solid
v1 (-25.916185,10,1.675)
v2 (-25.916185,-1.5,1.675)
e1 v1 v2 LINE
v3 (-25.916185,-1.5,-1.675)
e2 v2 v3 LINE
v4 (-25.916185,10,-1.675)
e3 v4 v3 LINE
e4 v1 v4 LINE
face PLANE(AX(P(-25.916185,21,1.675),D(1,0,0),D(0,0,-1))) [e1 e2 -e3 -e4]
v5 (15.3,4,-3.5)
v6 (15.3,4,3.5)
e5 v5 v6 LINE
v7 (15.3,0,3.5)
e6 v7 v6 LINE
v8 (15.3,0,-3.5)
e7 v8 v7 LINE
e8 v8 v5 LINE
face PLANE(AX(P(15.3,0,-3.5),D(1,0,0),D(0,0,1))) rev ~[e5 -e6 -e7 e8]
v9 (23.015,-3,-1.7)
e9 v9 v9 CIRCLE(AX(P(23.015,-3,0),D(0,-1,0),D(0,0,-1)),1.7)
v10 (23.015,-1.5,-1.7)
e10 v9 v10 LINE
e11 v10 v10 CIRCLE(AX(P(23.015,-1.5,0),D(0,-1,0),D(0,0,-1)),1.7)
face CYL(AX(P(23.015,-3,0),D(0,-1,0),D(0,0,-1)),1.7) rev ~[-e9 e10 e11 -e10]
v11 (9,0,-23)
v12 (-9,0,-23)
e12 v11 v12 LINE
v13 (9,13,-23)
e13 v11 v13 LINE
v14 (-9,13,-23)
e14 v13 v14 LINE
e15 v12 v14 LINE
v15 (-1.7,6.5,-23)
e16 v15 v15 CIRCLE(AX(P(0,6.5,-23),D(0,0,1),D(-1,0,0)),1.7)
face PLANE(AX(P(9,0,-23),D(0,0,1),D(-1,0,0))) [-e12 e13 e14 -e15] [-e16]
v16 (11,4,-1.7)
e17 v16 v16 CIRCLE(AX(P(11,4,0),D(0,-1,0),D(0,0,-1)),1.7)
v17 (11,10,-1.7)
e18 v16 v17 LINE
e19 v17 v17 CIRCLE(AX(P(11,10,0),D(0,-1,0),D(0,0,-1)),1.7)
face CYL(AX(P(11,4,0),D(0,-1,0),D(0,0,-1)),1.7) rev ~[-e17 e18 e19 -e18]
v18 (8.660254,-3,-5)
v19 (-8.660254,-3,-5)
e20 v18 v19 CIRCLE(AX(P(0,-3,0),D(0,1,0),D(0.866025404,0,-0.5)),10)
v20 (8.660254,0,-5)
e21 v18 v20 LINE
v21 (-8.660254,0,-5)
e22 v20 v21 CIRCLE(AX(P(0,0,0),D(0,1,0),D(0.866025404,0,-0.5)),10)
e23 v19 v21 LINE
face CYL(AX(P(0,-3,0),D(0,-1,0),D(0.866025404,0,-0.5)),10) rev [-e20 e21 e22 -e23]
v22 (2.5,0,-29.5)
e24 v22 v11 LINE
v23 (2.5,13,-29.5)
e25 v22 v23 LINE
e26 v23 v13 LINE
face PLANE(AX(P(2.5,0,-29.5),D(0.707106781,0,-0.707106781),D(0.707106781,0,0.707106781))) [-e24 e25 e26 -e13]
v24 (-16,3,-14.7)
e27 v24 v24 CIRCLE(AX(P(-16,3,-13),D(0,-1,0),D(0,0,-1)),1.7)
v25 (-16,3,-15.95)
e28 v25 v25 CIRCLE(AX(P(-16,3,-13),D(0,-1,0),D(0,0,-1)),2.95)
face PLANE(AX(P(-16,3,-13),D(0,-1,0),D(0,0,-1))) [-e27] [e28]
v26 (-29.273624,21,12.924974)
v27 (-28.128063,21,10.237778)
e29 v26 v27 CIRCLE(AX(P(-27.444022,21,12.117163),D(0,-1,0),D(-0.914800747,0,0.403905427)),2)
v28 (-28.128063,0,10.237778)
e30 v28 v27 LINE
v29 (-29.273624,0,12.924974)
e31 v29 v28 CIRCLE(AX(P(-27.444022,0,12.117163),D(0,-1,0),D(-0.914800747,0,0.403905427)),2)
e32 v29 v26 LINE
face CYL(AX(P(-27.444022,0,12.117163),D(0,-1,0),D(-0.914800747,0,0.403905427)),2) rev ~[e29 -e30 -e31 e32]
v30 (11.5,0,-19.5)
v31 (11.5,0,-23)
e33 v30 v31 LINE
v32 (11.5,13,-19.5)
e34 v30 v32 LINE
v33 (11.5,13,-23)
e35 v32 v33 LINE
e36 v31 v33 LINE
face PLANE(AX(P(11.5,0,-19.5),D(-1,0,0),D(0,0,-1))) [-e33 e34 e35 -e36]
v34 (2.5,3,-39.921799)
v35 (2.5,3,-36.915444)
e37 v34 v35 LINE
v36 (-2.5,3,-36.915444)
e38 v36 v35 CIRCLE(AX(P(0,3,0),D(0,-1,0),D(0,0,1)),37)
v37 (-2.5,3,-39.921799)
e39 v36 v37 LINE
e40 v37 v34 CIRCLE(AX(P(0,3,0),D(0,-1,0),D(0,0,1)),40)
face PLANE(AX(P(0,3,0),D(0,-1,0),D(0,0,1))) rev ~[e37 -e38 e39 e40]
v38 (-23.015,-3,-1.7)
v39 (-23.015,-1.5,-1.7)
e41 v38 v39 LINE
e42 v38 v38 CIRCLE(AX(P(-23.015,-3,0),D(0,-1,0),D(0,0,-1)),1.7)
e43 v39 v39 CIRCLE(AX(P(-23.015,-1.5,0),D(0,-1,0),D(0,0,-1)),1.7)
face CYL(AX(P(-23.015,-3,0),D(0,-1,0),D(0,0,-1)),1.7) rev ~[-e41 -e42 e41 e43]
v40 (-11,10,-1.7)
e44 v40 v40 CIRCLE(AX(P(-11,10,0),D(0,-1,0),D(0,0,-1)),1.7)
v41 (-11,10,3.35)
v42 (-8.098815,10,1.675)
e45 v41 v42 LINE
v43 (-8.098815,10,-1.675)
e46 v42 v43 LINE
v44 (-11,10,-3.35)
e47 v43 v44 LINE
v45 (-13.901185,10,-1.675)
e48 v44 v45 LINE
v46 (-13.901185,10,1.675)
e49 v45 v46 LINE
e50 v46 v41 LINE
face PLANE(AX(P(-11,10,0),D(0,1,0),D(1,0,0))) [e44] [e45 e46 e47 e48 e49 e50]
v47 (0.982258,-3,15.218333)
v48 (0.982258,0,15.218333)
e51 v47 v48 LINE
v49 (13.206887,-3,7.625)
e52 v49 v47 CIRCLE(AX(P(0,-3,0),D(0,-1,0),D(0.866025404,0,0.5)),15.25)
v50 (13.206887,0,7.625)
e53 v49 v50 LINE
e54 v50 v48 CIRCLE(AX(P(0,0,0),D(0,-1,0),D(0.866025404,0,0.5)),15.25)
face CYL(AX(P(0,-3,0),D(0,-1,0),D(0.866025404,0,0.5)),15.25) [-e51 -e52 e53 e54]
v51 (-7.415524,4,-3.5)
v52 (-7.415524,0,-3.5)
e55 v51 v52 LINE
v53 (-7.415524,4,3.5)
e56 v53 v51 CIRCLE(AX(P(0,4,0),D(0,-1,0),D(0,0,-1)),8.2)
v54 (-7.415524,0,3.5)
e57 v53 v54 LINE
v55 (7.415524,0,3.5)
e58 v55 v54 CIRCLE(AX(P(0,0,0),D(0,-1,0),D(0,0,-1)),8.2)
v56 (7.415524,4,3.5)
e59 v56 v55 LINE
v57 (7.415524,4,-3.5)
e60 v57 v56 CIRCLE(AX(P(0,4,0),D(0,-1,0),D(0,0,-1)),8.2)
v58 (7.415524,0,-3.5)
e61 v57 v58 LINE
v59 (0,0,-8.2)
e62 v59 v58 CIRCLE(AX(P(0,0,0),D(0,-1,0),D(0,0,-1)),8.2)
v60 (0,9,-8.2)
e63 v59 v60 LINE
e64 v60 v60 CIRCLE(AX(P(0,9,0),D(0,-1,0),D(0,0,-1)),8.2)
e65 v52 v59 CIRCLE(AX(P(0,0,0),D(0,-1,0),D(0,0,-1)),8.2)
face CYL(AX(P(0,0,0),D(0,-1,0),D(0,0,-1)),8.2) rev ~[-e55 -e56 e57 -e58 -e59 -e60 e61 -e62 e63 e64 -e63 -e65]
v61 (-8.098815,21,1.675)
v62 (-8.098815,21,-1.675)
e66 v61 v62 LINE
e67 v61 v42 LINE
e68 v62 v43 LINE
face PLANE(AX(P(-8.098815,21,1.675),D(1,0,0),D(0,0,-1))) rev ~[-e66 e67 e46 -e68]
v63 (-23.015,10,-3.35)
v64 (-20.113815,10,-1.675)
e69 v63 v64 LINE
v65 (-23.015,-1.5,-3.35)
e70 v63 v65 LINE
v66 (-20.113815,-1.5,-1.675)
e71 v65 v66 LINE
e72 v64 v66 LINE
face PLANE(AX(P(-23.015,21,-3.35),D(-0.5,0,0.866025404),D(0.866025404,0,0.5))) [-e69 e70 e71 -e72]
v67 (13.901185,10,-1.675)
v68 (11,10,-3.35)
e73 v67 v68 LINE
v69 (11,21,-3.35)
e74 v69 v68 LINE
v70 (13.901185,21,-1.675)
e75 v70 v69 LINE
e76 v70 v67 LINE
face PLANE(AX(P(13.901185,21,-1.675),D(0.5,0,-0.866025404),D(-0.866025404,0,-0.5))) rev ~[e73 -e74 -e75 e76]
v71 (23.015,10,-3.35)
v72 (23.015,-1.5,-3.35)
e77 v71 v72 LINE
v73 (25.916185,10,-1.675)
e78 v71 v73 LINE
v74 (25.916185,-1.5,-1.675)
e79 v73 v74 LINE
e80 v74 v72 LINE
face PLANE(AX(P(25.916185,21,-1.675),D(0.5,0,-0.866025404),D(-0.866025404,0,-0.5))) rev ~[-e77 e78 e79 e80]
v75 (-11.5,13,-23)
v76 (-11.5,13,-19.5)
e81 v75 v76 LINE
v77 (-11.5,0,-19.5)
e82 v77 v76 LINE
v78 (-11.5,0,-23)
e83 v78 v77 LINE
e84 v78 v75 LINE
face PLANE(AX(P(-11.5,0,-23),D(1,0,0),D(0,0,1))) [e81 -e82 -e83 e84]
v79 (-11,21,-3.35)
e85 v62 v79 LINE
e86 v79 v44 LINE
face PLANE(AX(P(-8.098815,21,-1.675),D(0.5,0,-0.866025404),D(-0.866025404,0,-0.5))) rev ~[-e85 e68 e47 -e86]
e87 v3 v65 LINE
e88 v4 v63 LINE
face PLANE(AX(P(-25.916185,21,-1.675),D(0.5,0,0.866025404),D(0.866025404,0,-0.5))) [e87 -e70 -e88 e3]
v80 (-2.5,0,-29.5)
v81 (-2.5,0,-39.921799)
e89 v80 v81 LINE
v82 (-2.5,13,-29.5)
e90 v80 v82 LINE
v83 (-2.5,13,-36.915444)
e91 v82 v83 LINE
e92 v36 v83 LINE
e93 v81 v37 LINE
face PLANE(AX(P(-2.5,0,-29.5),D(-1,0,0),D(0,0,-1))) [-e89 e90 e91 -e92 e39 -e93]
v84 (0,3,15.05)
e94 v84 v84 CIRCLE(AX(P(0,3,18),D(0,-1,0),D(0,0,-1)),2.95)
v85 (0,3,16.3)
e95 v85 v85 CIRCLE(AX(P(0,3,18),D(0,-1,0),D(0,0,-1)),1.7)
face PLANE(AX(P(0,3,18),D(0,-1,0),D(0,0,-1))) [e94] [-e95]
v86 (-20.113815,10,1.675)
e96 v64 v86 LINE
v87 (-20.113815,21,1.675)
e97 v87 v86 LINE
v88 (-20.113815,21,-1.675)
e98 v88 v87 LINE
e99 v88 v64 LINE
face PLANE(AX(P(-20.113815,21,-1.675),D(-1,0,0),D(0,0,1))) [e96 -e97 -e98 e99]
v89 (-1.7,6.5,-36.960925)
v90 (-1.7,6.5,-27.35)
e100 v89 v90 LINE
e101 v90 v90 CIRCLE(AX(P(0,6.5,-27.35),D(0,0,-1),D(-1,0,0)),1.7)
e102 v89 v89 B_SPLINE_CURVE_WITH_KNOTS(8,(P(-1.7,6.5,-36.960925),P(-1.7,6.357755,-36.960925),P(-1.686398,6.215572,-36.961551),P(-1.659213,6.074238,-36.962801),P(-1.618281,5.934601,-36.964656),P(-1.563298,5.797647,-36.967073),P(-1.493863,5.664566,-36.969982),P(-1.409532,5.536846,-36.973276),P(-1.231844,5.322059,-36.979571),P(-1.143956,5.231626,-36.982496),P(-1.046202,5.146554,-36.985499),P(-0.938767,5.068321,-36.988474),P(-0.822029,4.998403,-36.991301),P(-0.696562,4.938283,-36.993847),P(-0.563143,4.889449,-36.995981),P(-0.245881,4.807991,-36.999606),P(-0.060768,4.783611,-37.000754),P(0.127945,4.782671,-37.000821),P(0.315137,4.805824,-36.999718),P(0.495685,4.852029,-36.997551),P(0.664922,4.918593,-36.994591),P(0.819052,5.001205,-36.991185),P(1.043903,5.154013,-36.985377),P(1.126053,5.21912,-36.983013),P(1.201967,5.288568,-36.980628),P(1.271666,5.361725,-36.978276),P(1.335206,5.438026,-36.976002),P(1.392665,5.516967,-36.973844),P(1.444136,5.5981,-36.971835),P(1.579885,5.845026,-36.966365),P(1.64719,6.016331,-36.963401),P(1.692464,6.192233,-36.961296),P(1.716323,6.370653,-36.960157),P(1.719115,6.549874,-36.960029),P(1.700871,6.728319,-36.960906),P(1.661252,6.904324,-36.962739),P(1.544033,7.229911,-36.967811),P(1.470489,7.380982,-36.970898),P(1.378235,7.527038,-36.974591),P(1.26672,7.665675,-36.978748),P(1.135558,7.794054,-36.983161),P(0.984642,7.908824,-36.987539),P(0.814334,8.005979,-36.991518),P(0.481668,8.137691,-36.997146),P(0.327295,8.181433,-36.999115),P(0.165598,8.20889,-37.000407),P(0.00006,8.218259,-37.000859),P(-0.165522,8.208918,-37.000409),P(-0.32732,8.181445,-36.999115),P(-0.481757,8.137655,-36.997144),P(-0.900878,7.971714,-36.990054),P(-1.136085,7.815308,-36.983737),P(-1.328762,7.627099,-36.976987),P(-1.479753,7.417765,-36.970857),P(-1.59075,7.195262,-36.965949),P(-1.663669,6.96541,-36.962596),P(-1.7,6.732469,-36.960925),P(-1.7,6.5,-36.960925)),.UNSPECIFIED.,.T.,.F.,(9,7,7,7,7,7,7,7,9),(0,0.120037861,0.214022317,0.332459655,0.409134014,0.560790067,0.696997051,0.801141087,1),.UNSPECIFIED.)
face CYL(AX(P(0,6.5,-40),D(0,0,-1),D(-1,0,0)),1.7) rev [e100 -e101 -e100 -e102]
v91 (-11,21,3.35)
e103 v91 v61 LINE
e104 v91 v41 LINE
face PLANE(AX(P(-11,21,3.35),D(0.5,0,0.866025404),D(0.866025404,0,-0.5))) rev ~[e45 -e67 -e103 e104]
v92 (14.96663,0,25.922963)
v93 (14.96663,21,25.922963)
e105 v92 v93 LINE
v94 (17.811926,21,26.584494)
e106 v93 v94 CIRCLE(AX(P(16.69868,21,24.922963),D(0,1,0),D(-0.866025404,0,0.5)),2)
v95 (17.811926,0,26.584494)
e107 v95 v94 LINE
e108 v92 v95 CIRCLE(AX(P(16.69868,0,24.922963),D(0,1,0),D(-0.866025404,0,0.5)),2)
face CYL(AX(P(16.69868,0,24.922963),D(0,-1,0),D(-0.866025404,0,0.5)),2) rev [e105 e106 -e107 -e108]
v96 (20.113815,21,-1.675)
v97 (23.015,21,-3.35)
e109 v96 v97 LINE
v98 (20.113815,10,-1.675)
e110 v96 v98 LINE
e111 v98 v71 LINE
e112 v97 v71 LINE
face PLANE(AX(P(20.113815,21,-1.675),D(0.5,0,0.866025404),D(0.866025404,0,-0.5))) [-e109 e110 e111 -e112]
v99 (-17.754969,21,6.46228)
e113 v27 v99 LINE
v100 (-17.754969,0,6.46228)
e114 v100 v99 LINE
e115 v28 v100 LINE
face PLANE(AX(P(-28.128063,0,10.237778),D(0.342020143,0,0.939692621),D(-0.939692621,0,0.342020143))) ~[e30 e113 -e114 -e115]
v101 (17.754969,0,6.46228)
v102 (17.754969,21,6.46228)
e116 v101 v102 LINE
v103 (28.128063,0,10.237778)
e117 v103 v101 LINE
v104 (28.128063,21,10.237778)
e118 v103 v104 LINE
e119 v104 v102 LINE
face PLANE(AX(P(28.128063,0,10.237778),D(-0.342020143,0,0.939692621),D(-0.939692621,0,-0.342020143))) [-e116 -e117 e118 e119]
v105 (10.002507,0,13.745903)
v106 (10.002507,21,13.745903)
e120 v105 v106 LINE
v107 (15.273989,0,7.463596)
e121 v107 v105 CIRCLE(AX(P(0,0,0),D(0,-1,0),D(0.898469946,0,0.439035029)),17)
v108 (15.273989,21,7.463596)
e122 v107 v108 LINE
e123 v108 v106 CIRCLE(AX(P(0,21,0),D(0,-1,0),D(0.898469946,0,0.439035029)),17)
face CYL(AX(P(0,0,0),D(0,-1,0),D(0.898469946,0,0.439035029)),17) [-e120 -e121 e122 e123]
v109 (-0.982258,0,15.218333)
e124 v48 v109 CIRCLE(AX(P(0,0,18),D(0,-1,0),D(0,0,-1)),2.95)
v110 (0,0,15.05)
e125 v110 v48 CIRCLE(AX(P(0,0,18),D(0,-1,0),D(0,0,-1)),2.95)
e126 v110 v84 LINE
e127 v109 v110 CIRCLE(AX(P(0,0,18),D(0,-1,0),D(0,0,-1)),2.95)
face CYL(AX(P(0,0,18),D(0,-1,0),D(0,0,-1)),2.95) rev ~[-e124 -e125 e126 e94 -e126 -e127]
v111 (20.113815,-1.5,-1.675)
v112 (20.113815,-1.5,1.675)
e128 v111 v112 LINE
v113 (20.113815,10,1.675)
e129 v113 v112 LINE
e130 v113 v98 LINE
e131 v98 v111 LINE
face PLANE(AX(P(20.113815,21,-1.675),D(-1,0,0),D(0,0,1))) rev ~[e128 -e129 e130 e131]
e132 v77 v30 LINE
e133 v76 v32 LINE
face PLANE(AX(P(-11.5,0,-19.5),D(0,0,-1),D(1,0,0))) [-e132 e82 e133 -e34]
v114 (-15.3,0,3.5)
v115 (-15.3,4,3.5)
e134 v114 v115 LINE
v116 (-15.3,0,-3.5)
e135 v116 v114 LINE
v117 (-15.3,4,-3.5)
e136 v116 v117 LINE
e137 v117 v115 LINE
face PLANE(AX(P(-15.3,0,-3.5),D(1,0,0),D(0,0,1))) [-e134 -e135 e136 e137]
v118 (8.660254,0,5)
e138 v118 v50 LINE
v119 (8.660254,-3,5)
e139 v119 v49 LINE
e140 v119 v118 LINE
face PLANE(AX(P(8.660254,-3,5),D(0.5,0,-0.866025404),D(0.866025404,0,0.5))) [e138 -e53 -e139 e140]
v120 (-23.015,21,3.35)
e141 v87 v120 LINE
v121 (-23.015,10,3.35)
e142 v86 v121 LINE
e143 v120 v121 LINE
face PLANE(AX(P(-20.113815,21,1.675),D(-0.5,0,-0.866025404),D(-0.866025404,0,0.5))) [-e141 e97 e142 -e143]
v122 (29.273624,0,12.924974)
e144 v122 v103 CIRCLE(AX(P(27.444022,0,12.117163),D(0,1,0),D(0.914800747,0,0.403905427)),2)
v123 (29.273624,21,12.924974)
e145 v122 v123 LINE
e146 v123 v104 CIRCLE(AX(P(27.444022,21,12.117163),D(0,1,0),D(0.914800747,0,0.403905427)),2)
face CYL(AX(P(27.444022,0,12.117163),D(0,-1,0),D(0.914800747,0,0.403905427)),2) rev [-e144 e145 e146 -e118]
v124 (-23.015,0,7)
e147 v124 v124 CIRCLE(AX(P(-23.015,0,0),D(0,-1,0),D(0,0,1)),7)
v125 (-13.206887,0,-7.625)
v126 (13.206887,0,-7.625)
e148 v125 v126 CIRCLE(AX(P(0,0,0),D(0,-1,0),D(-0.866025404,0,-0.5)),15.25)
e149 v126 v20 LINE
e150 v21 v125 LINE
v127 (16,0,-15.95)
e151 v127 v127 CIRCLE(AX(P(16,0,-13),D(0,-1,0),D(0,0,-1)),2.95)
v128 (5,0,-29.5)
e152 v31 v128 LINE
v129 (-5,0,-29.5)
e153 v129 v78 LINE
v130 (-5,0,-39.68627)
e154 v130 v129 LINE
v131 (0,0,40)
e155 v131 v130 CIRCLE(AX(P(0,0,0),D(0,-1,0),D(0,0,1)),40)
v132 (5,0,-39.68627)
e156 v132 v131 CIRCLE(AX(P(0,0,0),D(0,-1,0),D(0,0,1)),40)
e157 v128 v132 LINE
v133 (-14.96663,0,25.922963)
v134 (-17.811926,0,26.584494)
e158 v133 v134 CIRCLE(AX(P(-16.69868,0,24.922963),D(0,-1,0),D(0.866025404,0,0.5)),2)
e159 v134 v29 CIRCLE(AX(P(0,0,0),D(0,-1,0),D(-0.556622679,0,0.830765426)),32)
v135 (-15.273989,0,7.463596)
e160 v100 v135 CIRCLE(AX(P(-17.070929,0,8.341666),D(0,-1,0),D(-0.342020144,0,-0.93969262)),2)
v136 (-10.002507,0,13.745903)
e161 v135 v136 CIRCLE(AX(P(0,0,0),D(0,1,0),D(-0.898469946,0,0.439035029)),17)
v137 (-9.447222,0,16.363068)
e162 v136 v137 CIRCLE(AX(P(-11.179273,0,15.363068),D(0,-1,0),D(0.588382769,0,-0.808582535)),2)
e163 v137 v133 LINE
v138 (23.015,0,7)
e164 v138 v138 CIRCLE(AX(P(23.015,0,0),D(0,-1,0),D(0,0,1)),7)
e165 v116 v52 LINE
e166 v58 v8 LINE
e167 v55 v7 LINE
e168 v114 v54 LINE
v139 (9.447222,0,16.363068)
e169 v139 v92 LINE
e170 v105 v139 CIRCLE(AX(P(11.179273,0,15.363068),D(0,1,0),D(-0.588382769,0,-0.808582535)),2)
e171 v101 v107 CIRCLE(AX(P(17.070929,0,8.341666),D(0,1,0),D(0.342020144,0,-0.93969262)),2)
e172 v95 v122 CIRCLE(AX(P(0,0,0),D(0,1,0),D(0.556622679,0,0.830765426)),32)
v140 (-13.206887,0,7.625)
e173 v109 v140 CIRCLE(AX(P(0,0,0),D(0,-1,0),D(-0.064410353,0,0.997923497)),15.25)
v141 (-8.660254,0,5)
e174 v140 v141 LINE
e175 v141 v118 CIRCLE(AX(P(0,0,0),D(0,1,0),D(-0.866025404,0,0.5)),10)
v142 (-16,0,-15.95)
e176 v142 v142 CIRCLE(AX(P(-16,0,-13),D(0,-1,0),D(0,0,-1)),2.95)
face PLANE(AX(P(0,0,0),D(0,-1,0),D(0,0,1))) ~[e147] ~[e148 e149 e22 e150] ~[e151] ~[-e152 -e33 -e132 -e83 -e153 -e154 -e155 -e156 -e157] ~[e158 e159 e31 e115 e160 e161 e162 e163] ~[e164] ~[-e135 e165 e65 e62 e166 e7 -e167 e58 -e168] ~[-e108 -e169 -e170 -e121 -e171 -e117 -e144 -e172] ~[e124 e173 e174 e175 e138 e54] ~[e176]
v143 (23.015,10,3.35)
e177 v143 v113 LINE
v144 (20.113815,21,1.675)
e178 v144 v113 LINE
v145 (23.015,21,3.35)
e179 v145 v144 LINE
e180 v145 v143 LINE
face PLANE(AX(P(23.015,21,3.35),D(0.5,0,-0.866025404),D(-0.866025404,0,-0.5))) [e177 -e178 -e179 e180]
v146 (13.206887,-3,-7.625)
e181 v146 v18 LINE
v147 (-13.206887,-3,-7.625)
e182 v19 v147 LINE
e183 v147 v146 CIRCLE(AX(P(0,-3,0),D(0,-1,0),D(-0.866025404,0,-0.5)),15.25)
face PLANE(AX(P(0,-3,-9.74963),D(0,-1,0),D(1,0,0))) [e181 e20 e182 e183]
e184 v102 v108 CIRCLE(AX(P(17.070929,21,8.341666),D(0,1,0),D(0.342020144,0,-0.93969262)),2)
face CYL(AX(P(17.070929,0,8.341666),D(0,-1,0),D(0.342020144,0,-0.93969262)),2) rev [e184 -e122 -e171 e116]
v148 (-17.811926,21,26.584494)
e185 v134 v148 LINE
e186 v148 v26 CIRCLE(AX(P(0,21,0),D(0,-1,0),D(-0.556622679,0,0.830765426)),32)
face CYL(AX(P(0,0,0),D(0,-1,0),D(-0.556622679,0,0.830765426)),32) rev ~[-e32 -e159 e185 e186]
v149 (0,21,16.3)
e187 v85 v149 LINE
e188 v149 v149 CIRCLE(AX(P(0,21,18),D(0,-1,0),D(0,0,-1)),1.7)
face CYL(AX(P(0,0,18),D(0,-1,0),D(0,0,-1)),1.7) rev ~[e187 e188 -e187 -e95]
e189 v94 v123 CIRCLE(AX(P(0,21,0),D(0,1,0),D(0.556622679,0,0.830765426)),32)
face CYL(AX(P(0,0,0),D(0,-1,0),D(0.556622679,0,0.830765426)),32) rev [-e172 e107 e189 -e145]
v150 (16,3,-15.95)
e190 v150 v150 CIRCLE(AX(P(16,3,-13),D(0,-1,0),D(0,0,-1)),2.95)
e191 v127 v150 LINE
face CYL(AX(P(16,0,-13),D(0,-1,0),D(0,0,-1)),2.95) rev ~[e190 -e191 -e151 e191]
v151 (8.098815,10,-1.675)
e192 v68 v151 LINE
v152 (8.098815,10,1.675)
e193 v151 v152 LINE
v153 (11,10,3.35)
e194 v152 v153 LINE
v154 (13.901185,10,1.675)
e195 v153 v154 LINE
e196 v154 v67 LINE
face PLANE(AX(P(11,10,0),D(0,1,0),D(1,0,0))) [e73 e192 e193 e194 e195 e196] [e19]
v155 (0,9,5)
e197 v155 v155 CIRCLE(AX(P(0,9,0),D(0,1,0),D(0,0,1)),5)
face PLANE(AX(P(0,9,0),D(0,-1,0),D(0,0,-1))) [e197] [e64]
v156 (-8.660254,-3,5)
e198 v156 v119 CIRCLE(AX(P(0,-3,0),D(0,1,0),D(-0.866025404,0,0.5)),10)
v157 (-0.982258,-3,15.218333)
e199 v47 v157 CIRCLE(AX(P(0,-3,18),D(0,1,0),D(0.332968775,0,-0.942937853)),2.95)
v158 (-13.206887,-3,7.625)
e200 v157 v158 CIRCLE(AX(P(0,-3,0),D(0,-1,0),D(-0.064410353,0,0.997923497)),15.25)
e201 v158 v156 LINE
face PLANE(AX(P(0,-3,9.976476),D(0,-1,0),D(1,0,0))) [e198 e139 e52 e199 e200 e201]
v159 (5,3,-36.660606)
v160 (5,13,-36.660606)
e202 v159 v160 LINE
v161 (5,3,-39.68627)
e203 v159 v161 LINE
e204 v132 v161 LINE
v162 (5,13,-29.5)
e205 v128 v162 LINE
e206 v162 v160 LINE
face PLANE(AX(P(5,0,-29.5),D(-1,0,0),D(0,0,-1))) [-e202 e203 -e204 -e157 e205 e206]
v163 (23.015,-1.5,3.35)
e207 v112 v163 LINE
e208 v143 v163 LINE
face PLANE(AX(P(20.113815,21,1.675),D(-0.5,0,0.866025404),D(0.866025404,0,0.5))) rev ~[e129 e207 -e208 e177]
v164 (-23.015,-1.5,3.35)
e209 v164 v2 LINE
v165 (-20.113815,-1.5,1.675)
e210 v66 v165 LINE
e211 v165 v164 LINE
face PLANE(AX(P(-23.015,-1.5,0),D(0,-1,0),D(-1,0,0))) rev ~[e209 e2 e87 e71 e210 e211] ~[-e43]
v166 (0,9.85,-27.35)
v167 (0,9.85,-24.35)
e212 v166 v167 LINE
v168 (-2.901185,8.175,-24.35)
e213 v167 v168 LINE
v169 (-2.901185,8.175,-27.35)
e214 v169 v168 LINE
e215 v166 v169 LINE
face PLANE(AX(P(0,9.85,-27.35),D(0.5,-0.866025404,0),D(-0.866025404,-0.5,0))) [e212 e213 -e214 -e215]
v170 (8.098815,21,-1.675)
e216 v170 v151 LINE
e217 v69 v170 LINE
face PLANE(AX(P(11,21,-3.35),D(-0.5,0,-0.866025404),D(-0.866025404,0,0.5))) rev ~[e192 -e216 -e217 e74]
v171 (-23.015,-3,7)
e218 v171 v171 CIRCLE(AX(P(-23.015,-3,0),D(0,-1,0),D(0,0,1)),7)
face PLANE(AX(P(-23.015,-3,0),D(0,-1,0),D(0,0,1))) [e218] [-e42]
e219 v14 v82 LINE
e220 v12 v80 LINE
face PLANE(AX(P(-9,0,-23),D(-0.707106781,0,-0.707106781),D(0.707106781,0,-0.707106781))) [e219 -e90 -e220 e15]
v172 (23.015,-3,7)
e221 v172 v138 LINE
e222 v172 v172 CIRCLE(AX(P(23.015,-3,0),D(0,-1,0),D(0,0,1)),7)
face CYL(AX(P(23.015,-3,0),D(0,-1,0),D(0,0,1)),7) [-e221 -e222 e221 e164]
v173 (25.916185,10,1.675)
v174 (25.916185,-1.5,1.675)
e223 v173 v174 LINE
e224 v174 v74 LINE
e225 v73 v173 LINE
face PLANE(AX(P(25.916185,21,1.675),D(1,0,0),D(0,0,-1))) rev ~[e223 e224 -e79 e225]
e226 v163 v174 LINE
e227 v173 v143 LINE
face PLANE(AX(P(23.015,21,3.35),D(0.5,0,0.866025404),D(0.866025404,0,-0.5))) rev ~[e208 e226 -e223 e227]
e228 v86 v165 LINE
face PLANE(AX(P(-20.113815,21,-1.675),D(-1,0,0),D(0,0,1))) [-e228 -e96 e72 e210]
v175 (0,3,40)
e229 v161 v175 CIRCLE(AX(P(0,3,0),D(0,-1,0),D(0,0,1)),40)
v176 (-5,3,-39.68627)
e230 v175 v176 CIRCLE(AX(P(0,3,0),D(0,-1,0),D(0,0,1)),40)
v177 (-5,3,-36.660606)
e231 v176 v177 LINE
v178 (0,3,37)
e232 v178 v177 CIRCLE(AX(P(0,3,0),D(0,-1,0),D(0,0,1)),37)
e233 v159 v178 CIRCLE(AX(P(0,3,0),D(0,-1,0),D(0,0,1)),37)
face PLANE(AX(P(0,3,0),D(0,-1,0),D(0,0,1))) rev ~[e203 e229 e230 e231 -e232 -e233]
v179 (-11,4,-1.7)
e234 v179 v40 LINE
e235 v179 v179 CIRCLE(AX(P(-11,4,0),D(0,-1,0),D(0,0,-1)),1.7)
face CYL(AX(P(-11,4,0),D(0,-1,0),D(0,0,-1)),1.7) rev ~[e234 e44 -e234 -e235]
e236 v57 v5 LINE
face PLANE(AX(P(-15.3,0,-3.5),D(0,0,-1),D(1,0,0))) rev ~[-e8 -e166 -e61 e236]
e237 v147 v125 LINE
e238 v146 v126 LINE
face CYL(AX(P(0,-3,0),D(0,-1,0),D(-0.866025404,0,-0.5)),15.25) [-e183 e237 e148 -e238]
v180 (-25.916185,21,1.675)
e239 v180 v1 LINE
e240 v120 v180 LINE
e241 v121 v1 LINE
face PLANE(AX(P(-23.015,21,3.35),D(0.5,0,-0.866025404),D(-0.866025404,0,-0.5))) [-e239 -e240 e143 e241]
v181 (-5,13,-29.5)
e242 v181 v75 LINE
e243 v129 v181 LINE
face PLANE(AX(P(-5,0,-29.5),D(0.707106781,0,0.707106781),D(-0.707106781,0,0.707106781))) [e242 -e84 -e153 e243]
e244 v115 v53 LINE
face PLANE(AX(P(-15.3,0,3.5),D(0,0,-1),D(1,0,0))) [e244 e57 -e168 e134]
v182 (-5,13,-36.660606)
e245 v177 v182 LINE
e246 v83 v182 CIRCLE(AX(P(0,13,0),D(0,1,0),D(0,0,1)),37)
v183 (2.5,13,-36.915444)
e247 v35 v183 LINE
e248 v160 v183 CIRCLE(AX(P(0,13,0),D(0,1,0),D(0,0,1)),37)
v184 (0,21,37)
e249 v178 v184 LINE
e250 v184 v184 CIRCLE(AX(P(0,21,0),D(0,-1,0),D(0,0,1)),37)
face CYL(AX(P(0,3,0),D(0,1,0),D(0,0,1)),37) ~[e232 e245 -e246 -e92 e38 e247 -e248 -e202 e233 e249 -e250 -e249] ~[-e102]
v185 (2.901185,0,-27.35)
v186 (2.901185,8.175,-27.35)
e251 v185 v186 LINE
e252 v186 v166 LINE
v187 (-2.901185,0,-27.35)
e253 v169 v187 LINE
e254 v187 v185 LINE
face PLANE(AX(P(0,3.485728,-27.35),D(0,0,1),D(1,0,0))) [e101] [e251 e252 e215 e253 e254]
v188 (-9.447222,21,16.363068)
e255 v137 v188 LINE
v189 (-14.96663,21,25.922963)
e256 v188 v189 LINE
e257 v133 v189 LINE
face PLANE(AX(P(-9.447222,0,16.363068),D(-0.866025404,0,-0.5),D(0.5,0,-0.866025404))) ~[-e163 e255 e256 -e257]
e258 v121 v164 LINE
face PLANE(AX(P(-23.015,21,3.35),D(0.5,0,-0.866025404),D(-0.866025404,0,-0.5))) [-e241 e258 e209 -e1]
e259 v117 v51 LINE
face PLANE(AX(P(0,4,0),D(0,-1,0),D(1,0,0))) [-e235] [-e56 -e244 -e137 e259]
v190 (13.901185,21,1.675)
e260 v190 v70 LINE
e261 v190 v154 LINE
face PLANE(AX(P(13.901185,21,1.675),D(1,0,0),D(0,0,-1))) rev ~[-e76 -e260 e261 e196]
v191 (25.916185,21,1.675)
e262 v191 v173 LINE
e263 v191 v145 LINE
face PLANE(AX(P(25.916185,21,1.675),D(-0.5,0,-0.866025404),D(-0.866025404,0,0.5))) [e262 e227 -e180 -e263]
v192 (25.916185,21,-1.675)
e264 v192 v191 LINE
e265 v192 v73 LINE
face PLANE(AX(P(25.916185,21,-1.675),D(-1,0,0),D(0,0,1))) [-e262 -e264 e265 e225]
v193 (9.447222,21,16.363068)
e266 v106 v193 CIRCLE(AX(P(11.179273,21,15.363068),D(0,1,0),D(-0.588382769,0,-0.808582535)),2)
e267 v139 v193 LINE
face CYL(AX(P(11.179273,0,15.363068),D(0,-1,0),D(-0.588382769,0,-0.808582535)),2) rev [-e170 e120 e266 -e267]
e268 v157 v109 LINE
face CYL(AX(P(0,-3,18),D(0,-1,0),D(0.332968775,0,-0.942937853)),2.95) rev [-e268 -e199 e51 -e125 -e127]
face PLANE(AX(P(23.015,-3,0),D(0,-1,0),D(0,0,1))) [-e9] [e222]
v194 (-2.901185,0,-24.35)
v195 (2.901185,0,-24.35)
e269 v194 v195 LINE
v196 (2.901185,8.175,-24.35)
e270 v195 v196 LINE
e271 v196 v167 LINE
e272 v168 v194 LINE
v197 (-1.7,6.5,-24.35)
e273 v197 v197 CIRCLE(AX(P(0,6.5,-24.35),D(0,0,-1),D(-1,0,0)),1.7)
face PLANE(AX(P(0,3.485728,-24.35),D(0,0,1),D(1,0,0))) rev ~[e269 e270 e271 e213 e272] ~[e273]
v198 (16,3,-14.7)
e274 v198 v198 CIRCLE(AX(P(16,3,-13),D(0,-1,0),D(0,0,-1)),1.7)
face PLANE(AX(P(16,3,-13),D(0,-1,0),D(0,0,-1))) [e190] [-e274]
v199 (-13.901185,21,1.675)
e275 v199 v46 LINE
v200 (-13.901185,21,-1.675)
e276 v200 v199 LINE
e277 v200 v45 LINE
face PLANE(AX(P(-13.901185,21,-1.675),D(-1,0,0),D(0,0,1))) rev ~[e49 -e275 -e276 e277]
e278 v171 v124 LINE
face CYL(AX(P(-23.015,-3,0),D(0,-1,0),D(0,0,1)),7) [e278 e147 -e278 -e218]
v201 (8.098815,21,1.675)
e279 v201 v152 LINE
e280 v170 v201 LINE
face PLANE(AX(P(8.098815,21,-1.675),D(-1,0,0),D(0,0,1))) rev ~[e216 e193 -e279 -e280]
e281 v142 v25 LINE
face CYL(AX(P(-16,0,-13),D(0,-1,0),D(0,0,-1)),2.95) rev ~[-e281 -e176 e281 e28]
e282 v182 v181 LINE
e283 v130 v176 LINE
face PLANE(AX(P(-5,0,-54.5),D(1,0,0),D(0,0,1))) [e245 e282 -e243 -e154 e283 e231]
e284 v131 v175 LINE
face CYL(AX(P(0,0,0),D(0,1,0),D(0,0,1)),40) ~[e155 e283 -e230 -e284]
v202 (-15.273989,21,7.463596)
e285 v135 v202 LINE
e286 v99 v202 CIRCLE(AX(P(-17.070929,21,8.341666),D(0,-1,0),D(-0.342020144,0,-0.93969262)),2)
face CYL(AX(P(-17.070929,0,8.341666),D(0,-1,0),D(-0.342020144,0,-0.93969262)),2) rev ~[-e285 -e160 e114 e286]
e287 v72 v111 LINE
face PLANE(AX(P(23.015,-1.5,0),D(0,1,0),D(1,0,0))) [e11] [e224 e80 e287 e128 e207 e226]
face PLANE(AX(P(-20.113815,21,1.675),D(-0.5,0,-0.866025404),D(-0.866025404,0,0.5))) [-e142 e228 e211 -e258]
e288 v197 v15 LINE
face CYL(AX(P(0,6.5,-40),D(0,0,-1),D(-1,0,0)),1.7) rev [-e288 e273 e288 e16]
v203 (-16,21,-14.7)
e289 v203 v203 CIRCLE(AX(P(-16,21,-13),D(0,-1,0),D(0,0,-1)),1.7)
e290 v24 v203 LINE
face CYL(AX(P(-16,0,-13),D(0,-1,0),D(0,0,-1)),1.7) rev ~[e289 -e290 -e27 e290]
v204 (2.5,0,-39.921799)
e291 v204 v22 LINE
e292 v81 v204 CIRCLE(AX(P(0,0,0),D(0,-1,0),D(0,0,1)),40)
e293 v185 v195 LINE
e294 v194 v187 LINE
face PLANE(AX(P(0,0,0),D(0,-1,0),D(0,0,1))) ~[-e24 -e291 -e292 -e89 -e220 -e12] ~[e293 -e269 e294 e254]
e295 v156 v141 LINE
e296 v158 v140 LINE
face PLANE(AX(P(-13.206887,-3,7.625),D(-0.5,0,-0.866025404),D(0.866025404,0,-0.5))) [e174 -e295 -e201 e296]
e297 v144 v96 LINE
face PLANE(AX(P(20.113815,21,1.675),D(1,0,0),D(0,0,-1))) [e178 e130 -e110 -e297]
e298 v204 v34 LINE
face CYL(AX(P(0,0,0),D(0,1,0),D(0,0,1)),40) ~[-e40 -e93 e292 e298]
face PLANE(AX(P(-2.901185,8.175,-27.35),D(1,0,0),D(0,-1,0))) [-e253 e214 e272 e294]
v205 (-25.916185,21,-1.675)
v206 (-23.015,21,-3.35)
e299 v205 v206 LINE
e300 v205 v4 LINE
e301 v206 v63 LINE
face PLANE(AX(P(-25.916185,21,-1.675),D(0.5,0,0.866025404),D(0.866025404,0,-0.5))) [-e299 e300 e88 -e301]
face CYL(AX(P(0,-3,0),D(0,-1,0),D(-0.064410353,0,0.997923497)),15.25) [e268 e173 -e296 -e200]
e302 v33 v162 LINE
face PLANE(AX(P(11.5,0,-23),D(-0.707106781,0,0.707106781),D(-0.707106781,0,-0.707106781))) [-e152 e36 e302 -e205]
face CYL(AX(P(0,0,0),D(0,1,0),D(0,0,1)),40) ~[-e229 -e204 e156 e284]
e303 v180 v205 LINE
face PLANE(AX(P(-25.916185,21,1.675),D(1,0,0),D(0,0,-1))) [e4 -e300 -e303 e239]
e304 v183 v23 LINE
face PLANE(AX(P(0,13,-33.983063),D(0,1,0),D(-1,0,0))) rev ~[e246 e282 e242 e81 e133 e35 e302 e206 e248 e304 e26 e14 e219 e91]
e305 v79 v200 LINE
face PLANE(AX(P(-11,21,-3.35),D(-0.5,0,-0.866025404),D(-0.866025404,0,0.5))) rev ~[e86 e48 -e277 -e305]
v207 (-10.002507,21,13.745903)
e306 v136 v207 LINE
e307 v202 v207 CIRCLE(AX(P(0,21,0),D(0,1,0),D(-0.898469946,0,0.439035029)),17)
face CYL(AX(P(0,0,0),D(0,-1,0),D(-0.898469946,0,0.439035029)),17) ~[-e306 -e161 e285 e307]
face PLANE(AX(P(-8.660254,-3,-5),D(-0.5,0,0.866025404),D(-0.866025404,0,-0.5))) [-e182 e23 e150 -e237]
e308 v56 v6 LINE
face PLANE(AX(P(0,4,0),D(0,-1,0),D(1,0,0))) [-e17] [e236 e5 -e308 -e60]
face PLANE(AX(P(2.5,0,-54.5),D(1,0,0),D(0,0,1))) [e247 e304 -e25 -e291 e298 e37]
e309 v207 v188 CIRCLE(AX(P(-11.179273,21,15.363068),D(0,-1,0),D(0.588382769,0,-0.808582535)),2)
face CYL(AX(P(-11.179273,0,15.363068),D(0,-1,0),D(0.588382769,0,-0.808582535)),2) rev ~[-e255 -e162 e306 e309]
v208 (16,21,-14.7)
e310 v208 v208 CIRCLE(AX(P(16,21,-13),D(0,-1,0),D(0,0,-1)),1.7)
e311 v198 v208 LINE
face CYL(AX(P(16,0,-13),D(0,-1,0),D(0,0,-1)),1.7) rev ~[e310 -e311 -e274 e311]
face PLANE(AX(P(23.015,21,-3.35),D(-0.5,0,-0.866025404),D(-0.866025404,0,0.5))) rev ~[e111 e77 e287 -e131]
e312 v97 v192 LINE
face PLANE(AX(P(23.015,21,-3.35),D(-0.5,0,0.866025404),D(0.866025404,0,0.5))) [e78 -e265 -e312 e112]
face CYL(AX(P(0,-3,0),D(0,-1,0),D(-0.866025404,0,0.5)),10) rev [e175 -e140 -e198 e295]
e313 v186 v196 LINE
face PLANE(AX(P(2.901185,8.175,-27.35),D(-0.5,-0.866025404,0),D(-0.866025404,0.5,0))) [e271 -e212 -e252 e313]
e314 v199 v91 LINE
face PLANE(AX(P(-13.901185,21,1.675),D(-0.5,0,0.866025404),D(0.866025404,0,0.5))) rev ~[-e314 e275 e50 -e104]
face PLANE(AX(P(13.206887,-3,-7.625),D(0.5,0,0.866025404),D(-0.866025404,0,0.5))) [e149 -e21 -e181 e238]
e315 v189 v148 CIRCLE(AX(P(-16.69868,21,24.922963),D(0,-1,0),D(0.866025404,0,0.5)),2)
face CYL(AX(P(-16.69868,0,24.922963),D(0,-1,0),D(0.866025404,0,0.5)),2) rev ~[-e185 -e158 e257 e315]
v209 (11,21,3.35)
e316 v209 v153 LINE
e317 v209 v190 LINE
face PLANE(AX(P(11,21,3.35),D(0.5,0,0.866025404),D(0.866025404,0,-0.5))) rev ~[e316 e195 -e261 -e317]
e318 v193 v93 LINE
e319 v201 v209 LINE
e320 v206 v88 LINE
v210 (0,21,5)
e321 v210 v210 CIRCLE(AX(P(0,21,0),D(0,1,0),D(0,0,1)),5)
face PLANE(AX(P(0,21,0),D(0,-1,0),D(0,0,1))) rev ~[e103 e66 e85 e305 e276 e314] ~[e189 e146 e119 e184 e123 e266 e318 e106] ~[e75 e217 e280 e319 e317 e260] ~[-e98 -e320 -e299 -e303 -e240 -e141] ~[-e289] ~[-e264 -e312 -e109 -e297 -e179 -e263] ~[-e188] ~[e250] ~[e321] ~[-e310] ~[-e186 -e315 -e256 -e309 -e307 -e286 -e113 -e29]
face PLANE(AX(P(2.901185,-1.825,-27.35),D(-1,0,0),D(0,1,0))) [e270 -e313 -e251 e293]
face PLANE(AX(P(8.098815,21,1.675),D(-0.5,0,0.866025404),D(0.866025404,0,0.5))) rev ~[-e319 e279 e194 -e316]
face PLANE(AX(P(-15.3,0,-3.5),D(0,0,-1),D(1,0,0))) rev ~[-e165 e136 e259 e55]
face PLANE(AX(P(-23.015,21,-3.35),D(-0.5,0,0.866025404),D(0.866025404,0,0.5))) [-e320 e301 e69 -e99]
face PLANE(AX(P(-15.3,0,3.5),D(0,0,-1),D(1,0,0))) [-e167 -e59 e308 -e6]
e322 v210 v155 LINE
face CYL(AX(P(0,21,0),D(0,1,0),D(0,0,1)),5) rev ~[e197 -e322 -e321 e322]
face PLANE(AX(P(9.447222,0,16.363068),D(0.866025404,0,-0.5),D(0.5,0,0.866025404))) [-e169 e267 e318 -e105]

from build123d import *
from build123d.topology import SkipClean

# Parameters (mm, degrees)
CORTAR_EXTRUIR1_DEPTH      = 13
CROQUIS3_R                 = 1.7
CORTAR_EXTRUIR2_DEPTH      = 17
CORTAR_EXTRUIR3_DEPTH      = 1.5
CORTAR_EXTRUIR3_DEPTH_BACK = 1.5
CROQUIS5_R                 = 5
CORTAR_EXTRUIR4_DEPTH      = 21
CROQUIS6_R                 = 8.2
CORTAR_EXTRUIR5_DEPTH      = 9
CROQUIS7_W                 = 30.6
CROQUIS7_H                 = 7
CORTAR_EXTRUIR6_DEPTH      = 4
CROQUIS8_R                 = 1.7
CORTAR_EXTRUIR7_DEPTH      = 17
CORTAR_EXTRUIR8_DEPTH      = 11
CORTAR_EXTRUIR9_DEPTH      = 21
CROQUIS11_R                = 1.7
CORTAR_EXTRUIR10_DEPTH     = 21
CROQUIS12_R                = 2.95
CORTAR_EXTRUIR11_DEPTH     = 3
BOSS_EXTRUDE1_START        = 3
SKETCH1_R                  = 7
BOSS_EXTRUDE1_DEPTH        = 3
SKETCH2_R                  = 1.7
CUT_EXTRUDE1_DEPTH         = 62.449166022
CUT_EXTRUDE2_DEPTH         = 22.5


with BuildPart() as part:
    # Croquis1 → Revolución1 (revolve)
    with BuildSketch(Plane.XY, mode=Mode.PRIVATE) as revoluci_n1_sk:
        Polygon((0, 0), (40, 0), (40, 3), (37, 3), (37, 21), (0, 21), align=None)
    revolve(revoluci_n1_sk.sketch.rotate(Axis((0, 21, 0), (0, -1, 0)), 90), axis=Axis((0, 21, 0), (0, -1, 0)))

    # Croquis2 → Cortar-Extruir1 (cut)
    with BuildSketch(Plane.XZ):
        Polygon((-11.5, -19.5), (11.5, -19.5), (11.5, -23), (5, -29.5), (5, -54.5), (2.5, -54.5), (2.5, -29.5), (9, -23), (-9, -23), (-2.5, -29.5), (-2.5, -54.5), (-5, -54.5), (-5, -29.5), (-11.5, -23), align=None)
    extrude(amount=-CORTAR_EXTRUIR1_DEPTH, mode=Mode.SUBTRACT)

    # Croquis3 → Cortar-Extruir2 (cut)
    with BuildSketch(Plane.XY.offset(-40)):
        with Locations(Location((0, 6.5, 0), (0, 0, 180))):
            Circle(CROQUIS3_R)
    extrude(amount=CORTAR_EXTRUIR2_DEPTH, mode=Mode.SUBTRACT)

    # Croquis4 → Cortar-Extruir3 (cut, two sides: drawn at the far end of the back side and taken through both)
    with BuildSketch(Plane.XY.offset(-25.85).offset(-CORTAR_EXTRUIR3_DEPTH_BACK)):
        Polygon((0, 9.85), (-2.901185103, 8.175), (-2.901185103, 4.825), (-2.901185103, -1.825), (2.901185103, -1.825), (2.901185103, 4.825), (2.901185103, 8.175), align=None)
    extrude(amount=CORTAR_EXTRUIR3_DEPTH + CORTAR_EXTRUIR3_DEPTH_BACK, mode=Mode.SUBTRACT)

    # Croquis5 → Cortar-Extruir4 (cut)
    with BuildSketch(Plane(origin=(0, 21, 0), x_dir=(1, 0, 0), z_dir=(0, 1, 0))):
        with Locations(Location((0, 0, 0), (0, 0, 270))):
            Circle(CROQUIS5_R)
    extrude(amount=-CORTAR_EXTRUIR4_DEPTH, mode=Mode.SUBTRACT)

    # Croquis6 → Cortar-Extruir5 (cut)
    with BuildSketch(Plane.XZ):
        with Locations(Location((0, 0, 0), (0, 0, 270))):
            Circle(CROQUIS6_R)
    extrude(amount=-CORTAR_EXTRUIR5_DEPTH, mode=Mode.SUBTRACT)

    # Croquis7 → Cortar-Extruir6 (cut)
    with BuildSketch(Plane.XZ):
        Rectangle(CROQUIS7_W, CROQUIS7_H)
    extrude(amount=-CORTAR_EXTRUIR6_DEPTH, mode=Mode.SUBTRACT)

    # Croquis8 → Cortar-Extruir7 (cut)
    with BuildSketch(Plane.XZ.offset(-4)):
        with Locations(Location((-11, 0, 0), (0, 0, 270))):
            Circle(CROQUIS8_R)
        with Locations(Location((11, 0, 0), (0, 0, 270))):
            Circle(CROQUIS8_R)
    extrude(amount=-CORTAR_EXTRUIR7_DEPTH, mode=Mode.SUBTRACT)

    # Croquis9 → Cortar-Extruir8 (cut)
    with BuildSketch(Plane(origin=(0, 21, 0), x_dir=(1, 0, 0), z_dir=(0, 1, 0))):
        Polygon((-11, 3.35), (-13.901185103, 1.675), (-13.901185103, -1.675), (-11, -3.35), (-8.098814897, -1.675), (-8.098814897, 1.675), align=None)
        Polygon((11, 3.35), (8.098814897, 1.675), (8.098814897, -1.675), (11, -3.35), (13.901185103, -1.675), (13.901185103, 1.675), align=None)
        Polygon((-25.916185103, 1.675), (-23.015, 3.35), (-20.113814897, 1.675), (-20.113814897, -1.675), (-23.015, -3.35), (-25.916185103, -1.675), align=None)
        Polygon((20.113814897, 1.675), (23.015, 3.35), (25.916185103, 1.675), (25.916185103, -1.675), (23.015, -3.35), (20.113814897, -1.675), align=None)
    extrude(amount=-CORTAR_EXTRUIR8_DEPTH, mode=Mode.SUBTRACT)

    # Croquis10 → Cortar-Extruir9 (cut)
    with BuildSketch(Plane.XZ):
        with BuildLine():
            Line((9.447221814, 16.363068172), (14.966629547, 25.922962794))
            ThreePointArc((14.966629547, 25.922962794), (16.245761141, 26.871003909), (17.811925712, 26.584493647))
            ThreePointArc((17.811925712, 26.584493647), (24.51342218, 20.56920351), (29.273623894, 12.924973661))
            ThreePointArc((29.273623894, 12.924973661), (29.283819798, 11.332850665), (28.128062687, 10.237777566))
            Line((28.128062687, 10.237777566), (17.754969251, 6.462280318))
            ThreePointArc((17.754969251, 6.462280318), (16.322400804, 6.487021228), (15.273989073, 7.4635955))
            ThreePointArc((15.273989073, 7.4635955), (13.022755533, 10.927389365), (10.002507082, 13.745903101))
            ThreePointArc((10.002507082, 13.745903101), (9.222823954, 14.947967445), (9.447221814, 16.363068172))
        make_face()
    cortar_extruir9 = extrude(amount=-CORTAR_EXTRUIR9_DEPTH, mode=Mode.SUBTRACT)

    # Simetría1: Cortar-Extruir9 across plane
    add(cortar_extruir9.mirror(Plane(origin=(0, 0, 0), x_dir=(0, 0, 1), z_dir=(1, 0, 0))), mode=Mode.SUBTRACT)

    # Croquis11 → Cortar-Extruir10 (cut)
    with BuildSketch(Plane.XZ):
        with Locations(Location((-16, -13, 0), (0, 0, 270))):
            Circle(CROQUIS11_R)
        with Locations(Location((16, -13, 0), (0, 0, 270))):
            Circle(CROQUIS11_R)
        with Locations(Location((0, 18, 0), (0, 0, 270))):
            Circle(CROQUIS11_R)
    extrude(amount=-CORTAR_EXTRUIR10_DEPTH, mode=Mode.SUBTRACT)

    # Croquis12 → Cortar-Extruir11 (cut)
    with BuildSketch(Plane.XZ):
        with Locations(Location((-16, -13, 0), (0, 0, 270))):
            Circle(CROQUIS12_R)
        with Locations(Location((16, -13, 0), (0, 0, 270))):
            Circle(CROQUIS12_R)
        with Locations(Location((0, 18, 0), (0, 0, 270))):
            Circle(CROQUIS12_R)
    extrude(amount=-CORTAR_EXTRUIR11_DEPTH, mode=Mode.SUBTRACT)

    # Sketch1 → Boss-Extrude1 (add)
    with SkipClean():  # the faces are left unmerged after this step: merging them gives an invalid solid
        with BuildSketch(Plane.XZ.offset(BOSS_EXTRUDE1_START)):
            with BuildLine():
                Line((-13.206887408, 7.625), (-8.660254038, 5))
                ThreePointArc((-8.660254038, 5), (0, 10), (8.660254038, 5))
                Line((8.660254038, 5), (13.206887408, 7.625))
                ThreePointArc((13.206887408, 7.625), (8.046591752, 12.954337543), (0.982257886, 15.218333333))
                ThreePointArc((0.982257886, 15.218333333), (0, 15.05), (-0.982257886, 15.218333333))
                ThreePointArc((-0.982257886, 15.218333333), (-8.046591752, 12.954337543), (-13.206887408, 7.625))
            make_face()
            with BuildLine():
                Line((13.206887408, -7.625), (8.660254038, -5))
                ThreePointArc((8.660254038, -5), (0, -10), (-8.660254038, -5))
                Line((-8.660254038, -5), (-13.206887408, -7.625))
                ThreePointArc((-13.206887408, -7.625), (0, -15.25), (13.206887408, -7.625))
            make_face()
            with Locations(Location((23.015, 0, 0), (0, 0, 90))):
                Circle(SKETCH1_R)
            with Locations(Location((-23.015, 0, 0), (0, 0, 90))):
                Circle(SKETCH1_R)
        extrude(amount=-BOSS_EXTRUDE1_DEPTH)

    # Sketch2 → Cut-Extrude1 (cut, through all)
    with SkipClean():  # the faces are left unmerged after this step: merging them gives an invalid solid
        with BuildSketch(Plane(origin=(0, -3, 0), x_dir=(-1, 0, 0), z_dir=(0, -1, 0))):
            with Locations(Location((23.015, 0, 0), (0, 0, 90))):
                Circle(SKETCH2_R)
            with Locations(Location((-23.015, 0, 0), (0, 0, 90))):
                Circle(SKETCH2_R)
        extrude(amount=-CUT_EXTRUDE1_DEPTH, mode=Mode.SUBTRACT)

    # Sketch3 → Cut-Extrude2 (cut)
    with SkipClean():  # the faces are left unmerged after this step: merging them gives an invalid solid
        with BuildSketch(Plane(origin=(0, 21, 0), x_dir=(1, 0, 0), z_dir=(0, 1, 0))):
            Polygon((-25.916185103, 1.675), (-23.015, 3.35), (-20.113814897, 1.675), (-20.113814897, -1.675), (-23.015, -3.35), (-25.916185103, -1.675), align=None)
            Polygon((23.015, 3.35), (20.113814897, 1.675), (20.113814897, -1.675), (23.015, -3.35), (25.916185103, -1.675), (25.916185103, 1.675), align=None)
        extrude(amount=-CUT_EXTRUDE2_DEPTH, mode=Mode.SUBTRACT)


solid = part.part
